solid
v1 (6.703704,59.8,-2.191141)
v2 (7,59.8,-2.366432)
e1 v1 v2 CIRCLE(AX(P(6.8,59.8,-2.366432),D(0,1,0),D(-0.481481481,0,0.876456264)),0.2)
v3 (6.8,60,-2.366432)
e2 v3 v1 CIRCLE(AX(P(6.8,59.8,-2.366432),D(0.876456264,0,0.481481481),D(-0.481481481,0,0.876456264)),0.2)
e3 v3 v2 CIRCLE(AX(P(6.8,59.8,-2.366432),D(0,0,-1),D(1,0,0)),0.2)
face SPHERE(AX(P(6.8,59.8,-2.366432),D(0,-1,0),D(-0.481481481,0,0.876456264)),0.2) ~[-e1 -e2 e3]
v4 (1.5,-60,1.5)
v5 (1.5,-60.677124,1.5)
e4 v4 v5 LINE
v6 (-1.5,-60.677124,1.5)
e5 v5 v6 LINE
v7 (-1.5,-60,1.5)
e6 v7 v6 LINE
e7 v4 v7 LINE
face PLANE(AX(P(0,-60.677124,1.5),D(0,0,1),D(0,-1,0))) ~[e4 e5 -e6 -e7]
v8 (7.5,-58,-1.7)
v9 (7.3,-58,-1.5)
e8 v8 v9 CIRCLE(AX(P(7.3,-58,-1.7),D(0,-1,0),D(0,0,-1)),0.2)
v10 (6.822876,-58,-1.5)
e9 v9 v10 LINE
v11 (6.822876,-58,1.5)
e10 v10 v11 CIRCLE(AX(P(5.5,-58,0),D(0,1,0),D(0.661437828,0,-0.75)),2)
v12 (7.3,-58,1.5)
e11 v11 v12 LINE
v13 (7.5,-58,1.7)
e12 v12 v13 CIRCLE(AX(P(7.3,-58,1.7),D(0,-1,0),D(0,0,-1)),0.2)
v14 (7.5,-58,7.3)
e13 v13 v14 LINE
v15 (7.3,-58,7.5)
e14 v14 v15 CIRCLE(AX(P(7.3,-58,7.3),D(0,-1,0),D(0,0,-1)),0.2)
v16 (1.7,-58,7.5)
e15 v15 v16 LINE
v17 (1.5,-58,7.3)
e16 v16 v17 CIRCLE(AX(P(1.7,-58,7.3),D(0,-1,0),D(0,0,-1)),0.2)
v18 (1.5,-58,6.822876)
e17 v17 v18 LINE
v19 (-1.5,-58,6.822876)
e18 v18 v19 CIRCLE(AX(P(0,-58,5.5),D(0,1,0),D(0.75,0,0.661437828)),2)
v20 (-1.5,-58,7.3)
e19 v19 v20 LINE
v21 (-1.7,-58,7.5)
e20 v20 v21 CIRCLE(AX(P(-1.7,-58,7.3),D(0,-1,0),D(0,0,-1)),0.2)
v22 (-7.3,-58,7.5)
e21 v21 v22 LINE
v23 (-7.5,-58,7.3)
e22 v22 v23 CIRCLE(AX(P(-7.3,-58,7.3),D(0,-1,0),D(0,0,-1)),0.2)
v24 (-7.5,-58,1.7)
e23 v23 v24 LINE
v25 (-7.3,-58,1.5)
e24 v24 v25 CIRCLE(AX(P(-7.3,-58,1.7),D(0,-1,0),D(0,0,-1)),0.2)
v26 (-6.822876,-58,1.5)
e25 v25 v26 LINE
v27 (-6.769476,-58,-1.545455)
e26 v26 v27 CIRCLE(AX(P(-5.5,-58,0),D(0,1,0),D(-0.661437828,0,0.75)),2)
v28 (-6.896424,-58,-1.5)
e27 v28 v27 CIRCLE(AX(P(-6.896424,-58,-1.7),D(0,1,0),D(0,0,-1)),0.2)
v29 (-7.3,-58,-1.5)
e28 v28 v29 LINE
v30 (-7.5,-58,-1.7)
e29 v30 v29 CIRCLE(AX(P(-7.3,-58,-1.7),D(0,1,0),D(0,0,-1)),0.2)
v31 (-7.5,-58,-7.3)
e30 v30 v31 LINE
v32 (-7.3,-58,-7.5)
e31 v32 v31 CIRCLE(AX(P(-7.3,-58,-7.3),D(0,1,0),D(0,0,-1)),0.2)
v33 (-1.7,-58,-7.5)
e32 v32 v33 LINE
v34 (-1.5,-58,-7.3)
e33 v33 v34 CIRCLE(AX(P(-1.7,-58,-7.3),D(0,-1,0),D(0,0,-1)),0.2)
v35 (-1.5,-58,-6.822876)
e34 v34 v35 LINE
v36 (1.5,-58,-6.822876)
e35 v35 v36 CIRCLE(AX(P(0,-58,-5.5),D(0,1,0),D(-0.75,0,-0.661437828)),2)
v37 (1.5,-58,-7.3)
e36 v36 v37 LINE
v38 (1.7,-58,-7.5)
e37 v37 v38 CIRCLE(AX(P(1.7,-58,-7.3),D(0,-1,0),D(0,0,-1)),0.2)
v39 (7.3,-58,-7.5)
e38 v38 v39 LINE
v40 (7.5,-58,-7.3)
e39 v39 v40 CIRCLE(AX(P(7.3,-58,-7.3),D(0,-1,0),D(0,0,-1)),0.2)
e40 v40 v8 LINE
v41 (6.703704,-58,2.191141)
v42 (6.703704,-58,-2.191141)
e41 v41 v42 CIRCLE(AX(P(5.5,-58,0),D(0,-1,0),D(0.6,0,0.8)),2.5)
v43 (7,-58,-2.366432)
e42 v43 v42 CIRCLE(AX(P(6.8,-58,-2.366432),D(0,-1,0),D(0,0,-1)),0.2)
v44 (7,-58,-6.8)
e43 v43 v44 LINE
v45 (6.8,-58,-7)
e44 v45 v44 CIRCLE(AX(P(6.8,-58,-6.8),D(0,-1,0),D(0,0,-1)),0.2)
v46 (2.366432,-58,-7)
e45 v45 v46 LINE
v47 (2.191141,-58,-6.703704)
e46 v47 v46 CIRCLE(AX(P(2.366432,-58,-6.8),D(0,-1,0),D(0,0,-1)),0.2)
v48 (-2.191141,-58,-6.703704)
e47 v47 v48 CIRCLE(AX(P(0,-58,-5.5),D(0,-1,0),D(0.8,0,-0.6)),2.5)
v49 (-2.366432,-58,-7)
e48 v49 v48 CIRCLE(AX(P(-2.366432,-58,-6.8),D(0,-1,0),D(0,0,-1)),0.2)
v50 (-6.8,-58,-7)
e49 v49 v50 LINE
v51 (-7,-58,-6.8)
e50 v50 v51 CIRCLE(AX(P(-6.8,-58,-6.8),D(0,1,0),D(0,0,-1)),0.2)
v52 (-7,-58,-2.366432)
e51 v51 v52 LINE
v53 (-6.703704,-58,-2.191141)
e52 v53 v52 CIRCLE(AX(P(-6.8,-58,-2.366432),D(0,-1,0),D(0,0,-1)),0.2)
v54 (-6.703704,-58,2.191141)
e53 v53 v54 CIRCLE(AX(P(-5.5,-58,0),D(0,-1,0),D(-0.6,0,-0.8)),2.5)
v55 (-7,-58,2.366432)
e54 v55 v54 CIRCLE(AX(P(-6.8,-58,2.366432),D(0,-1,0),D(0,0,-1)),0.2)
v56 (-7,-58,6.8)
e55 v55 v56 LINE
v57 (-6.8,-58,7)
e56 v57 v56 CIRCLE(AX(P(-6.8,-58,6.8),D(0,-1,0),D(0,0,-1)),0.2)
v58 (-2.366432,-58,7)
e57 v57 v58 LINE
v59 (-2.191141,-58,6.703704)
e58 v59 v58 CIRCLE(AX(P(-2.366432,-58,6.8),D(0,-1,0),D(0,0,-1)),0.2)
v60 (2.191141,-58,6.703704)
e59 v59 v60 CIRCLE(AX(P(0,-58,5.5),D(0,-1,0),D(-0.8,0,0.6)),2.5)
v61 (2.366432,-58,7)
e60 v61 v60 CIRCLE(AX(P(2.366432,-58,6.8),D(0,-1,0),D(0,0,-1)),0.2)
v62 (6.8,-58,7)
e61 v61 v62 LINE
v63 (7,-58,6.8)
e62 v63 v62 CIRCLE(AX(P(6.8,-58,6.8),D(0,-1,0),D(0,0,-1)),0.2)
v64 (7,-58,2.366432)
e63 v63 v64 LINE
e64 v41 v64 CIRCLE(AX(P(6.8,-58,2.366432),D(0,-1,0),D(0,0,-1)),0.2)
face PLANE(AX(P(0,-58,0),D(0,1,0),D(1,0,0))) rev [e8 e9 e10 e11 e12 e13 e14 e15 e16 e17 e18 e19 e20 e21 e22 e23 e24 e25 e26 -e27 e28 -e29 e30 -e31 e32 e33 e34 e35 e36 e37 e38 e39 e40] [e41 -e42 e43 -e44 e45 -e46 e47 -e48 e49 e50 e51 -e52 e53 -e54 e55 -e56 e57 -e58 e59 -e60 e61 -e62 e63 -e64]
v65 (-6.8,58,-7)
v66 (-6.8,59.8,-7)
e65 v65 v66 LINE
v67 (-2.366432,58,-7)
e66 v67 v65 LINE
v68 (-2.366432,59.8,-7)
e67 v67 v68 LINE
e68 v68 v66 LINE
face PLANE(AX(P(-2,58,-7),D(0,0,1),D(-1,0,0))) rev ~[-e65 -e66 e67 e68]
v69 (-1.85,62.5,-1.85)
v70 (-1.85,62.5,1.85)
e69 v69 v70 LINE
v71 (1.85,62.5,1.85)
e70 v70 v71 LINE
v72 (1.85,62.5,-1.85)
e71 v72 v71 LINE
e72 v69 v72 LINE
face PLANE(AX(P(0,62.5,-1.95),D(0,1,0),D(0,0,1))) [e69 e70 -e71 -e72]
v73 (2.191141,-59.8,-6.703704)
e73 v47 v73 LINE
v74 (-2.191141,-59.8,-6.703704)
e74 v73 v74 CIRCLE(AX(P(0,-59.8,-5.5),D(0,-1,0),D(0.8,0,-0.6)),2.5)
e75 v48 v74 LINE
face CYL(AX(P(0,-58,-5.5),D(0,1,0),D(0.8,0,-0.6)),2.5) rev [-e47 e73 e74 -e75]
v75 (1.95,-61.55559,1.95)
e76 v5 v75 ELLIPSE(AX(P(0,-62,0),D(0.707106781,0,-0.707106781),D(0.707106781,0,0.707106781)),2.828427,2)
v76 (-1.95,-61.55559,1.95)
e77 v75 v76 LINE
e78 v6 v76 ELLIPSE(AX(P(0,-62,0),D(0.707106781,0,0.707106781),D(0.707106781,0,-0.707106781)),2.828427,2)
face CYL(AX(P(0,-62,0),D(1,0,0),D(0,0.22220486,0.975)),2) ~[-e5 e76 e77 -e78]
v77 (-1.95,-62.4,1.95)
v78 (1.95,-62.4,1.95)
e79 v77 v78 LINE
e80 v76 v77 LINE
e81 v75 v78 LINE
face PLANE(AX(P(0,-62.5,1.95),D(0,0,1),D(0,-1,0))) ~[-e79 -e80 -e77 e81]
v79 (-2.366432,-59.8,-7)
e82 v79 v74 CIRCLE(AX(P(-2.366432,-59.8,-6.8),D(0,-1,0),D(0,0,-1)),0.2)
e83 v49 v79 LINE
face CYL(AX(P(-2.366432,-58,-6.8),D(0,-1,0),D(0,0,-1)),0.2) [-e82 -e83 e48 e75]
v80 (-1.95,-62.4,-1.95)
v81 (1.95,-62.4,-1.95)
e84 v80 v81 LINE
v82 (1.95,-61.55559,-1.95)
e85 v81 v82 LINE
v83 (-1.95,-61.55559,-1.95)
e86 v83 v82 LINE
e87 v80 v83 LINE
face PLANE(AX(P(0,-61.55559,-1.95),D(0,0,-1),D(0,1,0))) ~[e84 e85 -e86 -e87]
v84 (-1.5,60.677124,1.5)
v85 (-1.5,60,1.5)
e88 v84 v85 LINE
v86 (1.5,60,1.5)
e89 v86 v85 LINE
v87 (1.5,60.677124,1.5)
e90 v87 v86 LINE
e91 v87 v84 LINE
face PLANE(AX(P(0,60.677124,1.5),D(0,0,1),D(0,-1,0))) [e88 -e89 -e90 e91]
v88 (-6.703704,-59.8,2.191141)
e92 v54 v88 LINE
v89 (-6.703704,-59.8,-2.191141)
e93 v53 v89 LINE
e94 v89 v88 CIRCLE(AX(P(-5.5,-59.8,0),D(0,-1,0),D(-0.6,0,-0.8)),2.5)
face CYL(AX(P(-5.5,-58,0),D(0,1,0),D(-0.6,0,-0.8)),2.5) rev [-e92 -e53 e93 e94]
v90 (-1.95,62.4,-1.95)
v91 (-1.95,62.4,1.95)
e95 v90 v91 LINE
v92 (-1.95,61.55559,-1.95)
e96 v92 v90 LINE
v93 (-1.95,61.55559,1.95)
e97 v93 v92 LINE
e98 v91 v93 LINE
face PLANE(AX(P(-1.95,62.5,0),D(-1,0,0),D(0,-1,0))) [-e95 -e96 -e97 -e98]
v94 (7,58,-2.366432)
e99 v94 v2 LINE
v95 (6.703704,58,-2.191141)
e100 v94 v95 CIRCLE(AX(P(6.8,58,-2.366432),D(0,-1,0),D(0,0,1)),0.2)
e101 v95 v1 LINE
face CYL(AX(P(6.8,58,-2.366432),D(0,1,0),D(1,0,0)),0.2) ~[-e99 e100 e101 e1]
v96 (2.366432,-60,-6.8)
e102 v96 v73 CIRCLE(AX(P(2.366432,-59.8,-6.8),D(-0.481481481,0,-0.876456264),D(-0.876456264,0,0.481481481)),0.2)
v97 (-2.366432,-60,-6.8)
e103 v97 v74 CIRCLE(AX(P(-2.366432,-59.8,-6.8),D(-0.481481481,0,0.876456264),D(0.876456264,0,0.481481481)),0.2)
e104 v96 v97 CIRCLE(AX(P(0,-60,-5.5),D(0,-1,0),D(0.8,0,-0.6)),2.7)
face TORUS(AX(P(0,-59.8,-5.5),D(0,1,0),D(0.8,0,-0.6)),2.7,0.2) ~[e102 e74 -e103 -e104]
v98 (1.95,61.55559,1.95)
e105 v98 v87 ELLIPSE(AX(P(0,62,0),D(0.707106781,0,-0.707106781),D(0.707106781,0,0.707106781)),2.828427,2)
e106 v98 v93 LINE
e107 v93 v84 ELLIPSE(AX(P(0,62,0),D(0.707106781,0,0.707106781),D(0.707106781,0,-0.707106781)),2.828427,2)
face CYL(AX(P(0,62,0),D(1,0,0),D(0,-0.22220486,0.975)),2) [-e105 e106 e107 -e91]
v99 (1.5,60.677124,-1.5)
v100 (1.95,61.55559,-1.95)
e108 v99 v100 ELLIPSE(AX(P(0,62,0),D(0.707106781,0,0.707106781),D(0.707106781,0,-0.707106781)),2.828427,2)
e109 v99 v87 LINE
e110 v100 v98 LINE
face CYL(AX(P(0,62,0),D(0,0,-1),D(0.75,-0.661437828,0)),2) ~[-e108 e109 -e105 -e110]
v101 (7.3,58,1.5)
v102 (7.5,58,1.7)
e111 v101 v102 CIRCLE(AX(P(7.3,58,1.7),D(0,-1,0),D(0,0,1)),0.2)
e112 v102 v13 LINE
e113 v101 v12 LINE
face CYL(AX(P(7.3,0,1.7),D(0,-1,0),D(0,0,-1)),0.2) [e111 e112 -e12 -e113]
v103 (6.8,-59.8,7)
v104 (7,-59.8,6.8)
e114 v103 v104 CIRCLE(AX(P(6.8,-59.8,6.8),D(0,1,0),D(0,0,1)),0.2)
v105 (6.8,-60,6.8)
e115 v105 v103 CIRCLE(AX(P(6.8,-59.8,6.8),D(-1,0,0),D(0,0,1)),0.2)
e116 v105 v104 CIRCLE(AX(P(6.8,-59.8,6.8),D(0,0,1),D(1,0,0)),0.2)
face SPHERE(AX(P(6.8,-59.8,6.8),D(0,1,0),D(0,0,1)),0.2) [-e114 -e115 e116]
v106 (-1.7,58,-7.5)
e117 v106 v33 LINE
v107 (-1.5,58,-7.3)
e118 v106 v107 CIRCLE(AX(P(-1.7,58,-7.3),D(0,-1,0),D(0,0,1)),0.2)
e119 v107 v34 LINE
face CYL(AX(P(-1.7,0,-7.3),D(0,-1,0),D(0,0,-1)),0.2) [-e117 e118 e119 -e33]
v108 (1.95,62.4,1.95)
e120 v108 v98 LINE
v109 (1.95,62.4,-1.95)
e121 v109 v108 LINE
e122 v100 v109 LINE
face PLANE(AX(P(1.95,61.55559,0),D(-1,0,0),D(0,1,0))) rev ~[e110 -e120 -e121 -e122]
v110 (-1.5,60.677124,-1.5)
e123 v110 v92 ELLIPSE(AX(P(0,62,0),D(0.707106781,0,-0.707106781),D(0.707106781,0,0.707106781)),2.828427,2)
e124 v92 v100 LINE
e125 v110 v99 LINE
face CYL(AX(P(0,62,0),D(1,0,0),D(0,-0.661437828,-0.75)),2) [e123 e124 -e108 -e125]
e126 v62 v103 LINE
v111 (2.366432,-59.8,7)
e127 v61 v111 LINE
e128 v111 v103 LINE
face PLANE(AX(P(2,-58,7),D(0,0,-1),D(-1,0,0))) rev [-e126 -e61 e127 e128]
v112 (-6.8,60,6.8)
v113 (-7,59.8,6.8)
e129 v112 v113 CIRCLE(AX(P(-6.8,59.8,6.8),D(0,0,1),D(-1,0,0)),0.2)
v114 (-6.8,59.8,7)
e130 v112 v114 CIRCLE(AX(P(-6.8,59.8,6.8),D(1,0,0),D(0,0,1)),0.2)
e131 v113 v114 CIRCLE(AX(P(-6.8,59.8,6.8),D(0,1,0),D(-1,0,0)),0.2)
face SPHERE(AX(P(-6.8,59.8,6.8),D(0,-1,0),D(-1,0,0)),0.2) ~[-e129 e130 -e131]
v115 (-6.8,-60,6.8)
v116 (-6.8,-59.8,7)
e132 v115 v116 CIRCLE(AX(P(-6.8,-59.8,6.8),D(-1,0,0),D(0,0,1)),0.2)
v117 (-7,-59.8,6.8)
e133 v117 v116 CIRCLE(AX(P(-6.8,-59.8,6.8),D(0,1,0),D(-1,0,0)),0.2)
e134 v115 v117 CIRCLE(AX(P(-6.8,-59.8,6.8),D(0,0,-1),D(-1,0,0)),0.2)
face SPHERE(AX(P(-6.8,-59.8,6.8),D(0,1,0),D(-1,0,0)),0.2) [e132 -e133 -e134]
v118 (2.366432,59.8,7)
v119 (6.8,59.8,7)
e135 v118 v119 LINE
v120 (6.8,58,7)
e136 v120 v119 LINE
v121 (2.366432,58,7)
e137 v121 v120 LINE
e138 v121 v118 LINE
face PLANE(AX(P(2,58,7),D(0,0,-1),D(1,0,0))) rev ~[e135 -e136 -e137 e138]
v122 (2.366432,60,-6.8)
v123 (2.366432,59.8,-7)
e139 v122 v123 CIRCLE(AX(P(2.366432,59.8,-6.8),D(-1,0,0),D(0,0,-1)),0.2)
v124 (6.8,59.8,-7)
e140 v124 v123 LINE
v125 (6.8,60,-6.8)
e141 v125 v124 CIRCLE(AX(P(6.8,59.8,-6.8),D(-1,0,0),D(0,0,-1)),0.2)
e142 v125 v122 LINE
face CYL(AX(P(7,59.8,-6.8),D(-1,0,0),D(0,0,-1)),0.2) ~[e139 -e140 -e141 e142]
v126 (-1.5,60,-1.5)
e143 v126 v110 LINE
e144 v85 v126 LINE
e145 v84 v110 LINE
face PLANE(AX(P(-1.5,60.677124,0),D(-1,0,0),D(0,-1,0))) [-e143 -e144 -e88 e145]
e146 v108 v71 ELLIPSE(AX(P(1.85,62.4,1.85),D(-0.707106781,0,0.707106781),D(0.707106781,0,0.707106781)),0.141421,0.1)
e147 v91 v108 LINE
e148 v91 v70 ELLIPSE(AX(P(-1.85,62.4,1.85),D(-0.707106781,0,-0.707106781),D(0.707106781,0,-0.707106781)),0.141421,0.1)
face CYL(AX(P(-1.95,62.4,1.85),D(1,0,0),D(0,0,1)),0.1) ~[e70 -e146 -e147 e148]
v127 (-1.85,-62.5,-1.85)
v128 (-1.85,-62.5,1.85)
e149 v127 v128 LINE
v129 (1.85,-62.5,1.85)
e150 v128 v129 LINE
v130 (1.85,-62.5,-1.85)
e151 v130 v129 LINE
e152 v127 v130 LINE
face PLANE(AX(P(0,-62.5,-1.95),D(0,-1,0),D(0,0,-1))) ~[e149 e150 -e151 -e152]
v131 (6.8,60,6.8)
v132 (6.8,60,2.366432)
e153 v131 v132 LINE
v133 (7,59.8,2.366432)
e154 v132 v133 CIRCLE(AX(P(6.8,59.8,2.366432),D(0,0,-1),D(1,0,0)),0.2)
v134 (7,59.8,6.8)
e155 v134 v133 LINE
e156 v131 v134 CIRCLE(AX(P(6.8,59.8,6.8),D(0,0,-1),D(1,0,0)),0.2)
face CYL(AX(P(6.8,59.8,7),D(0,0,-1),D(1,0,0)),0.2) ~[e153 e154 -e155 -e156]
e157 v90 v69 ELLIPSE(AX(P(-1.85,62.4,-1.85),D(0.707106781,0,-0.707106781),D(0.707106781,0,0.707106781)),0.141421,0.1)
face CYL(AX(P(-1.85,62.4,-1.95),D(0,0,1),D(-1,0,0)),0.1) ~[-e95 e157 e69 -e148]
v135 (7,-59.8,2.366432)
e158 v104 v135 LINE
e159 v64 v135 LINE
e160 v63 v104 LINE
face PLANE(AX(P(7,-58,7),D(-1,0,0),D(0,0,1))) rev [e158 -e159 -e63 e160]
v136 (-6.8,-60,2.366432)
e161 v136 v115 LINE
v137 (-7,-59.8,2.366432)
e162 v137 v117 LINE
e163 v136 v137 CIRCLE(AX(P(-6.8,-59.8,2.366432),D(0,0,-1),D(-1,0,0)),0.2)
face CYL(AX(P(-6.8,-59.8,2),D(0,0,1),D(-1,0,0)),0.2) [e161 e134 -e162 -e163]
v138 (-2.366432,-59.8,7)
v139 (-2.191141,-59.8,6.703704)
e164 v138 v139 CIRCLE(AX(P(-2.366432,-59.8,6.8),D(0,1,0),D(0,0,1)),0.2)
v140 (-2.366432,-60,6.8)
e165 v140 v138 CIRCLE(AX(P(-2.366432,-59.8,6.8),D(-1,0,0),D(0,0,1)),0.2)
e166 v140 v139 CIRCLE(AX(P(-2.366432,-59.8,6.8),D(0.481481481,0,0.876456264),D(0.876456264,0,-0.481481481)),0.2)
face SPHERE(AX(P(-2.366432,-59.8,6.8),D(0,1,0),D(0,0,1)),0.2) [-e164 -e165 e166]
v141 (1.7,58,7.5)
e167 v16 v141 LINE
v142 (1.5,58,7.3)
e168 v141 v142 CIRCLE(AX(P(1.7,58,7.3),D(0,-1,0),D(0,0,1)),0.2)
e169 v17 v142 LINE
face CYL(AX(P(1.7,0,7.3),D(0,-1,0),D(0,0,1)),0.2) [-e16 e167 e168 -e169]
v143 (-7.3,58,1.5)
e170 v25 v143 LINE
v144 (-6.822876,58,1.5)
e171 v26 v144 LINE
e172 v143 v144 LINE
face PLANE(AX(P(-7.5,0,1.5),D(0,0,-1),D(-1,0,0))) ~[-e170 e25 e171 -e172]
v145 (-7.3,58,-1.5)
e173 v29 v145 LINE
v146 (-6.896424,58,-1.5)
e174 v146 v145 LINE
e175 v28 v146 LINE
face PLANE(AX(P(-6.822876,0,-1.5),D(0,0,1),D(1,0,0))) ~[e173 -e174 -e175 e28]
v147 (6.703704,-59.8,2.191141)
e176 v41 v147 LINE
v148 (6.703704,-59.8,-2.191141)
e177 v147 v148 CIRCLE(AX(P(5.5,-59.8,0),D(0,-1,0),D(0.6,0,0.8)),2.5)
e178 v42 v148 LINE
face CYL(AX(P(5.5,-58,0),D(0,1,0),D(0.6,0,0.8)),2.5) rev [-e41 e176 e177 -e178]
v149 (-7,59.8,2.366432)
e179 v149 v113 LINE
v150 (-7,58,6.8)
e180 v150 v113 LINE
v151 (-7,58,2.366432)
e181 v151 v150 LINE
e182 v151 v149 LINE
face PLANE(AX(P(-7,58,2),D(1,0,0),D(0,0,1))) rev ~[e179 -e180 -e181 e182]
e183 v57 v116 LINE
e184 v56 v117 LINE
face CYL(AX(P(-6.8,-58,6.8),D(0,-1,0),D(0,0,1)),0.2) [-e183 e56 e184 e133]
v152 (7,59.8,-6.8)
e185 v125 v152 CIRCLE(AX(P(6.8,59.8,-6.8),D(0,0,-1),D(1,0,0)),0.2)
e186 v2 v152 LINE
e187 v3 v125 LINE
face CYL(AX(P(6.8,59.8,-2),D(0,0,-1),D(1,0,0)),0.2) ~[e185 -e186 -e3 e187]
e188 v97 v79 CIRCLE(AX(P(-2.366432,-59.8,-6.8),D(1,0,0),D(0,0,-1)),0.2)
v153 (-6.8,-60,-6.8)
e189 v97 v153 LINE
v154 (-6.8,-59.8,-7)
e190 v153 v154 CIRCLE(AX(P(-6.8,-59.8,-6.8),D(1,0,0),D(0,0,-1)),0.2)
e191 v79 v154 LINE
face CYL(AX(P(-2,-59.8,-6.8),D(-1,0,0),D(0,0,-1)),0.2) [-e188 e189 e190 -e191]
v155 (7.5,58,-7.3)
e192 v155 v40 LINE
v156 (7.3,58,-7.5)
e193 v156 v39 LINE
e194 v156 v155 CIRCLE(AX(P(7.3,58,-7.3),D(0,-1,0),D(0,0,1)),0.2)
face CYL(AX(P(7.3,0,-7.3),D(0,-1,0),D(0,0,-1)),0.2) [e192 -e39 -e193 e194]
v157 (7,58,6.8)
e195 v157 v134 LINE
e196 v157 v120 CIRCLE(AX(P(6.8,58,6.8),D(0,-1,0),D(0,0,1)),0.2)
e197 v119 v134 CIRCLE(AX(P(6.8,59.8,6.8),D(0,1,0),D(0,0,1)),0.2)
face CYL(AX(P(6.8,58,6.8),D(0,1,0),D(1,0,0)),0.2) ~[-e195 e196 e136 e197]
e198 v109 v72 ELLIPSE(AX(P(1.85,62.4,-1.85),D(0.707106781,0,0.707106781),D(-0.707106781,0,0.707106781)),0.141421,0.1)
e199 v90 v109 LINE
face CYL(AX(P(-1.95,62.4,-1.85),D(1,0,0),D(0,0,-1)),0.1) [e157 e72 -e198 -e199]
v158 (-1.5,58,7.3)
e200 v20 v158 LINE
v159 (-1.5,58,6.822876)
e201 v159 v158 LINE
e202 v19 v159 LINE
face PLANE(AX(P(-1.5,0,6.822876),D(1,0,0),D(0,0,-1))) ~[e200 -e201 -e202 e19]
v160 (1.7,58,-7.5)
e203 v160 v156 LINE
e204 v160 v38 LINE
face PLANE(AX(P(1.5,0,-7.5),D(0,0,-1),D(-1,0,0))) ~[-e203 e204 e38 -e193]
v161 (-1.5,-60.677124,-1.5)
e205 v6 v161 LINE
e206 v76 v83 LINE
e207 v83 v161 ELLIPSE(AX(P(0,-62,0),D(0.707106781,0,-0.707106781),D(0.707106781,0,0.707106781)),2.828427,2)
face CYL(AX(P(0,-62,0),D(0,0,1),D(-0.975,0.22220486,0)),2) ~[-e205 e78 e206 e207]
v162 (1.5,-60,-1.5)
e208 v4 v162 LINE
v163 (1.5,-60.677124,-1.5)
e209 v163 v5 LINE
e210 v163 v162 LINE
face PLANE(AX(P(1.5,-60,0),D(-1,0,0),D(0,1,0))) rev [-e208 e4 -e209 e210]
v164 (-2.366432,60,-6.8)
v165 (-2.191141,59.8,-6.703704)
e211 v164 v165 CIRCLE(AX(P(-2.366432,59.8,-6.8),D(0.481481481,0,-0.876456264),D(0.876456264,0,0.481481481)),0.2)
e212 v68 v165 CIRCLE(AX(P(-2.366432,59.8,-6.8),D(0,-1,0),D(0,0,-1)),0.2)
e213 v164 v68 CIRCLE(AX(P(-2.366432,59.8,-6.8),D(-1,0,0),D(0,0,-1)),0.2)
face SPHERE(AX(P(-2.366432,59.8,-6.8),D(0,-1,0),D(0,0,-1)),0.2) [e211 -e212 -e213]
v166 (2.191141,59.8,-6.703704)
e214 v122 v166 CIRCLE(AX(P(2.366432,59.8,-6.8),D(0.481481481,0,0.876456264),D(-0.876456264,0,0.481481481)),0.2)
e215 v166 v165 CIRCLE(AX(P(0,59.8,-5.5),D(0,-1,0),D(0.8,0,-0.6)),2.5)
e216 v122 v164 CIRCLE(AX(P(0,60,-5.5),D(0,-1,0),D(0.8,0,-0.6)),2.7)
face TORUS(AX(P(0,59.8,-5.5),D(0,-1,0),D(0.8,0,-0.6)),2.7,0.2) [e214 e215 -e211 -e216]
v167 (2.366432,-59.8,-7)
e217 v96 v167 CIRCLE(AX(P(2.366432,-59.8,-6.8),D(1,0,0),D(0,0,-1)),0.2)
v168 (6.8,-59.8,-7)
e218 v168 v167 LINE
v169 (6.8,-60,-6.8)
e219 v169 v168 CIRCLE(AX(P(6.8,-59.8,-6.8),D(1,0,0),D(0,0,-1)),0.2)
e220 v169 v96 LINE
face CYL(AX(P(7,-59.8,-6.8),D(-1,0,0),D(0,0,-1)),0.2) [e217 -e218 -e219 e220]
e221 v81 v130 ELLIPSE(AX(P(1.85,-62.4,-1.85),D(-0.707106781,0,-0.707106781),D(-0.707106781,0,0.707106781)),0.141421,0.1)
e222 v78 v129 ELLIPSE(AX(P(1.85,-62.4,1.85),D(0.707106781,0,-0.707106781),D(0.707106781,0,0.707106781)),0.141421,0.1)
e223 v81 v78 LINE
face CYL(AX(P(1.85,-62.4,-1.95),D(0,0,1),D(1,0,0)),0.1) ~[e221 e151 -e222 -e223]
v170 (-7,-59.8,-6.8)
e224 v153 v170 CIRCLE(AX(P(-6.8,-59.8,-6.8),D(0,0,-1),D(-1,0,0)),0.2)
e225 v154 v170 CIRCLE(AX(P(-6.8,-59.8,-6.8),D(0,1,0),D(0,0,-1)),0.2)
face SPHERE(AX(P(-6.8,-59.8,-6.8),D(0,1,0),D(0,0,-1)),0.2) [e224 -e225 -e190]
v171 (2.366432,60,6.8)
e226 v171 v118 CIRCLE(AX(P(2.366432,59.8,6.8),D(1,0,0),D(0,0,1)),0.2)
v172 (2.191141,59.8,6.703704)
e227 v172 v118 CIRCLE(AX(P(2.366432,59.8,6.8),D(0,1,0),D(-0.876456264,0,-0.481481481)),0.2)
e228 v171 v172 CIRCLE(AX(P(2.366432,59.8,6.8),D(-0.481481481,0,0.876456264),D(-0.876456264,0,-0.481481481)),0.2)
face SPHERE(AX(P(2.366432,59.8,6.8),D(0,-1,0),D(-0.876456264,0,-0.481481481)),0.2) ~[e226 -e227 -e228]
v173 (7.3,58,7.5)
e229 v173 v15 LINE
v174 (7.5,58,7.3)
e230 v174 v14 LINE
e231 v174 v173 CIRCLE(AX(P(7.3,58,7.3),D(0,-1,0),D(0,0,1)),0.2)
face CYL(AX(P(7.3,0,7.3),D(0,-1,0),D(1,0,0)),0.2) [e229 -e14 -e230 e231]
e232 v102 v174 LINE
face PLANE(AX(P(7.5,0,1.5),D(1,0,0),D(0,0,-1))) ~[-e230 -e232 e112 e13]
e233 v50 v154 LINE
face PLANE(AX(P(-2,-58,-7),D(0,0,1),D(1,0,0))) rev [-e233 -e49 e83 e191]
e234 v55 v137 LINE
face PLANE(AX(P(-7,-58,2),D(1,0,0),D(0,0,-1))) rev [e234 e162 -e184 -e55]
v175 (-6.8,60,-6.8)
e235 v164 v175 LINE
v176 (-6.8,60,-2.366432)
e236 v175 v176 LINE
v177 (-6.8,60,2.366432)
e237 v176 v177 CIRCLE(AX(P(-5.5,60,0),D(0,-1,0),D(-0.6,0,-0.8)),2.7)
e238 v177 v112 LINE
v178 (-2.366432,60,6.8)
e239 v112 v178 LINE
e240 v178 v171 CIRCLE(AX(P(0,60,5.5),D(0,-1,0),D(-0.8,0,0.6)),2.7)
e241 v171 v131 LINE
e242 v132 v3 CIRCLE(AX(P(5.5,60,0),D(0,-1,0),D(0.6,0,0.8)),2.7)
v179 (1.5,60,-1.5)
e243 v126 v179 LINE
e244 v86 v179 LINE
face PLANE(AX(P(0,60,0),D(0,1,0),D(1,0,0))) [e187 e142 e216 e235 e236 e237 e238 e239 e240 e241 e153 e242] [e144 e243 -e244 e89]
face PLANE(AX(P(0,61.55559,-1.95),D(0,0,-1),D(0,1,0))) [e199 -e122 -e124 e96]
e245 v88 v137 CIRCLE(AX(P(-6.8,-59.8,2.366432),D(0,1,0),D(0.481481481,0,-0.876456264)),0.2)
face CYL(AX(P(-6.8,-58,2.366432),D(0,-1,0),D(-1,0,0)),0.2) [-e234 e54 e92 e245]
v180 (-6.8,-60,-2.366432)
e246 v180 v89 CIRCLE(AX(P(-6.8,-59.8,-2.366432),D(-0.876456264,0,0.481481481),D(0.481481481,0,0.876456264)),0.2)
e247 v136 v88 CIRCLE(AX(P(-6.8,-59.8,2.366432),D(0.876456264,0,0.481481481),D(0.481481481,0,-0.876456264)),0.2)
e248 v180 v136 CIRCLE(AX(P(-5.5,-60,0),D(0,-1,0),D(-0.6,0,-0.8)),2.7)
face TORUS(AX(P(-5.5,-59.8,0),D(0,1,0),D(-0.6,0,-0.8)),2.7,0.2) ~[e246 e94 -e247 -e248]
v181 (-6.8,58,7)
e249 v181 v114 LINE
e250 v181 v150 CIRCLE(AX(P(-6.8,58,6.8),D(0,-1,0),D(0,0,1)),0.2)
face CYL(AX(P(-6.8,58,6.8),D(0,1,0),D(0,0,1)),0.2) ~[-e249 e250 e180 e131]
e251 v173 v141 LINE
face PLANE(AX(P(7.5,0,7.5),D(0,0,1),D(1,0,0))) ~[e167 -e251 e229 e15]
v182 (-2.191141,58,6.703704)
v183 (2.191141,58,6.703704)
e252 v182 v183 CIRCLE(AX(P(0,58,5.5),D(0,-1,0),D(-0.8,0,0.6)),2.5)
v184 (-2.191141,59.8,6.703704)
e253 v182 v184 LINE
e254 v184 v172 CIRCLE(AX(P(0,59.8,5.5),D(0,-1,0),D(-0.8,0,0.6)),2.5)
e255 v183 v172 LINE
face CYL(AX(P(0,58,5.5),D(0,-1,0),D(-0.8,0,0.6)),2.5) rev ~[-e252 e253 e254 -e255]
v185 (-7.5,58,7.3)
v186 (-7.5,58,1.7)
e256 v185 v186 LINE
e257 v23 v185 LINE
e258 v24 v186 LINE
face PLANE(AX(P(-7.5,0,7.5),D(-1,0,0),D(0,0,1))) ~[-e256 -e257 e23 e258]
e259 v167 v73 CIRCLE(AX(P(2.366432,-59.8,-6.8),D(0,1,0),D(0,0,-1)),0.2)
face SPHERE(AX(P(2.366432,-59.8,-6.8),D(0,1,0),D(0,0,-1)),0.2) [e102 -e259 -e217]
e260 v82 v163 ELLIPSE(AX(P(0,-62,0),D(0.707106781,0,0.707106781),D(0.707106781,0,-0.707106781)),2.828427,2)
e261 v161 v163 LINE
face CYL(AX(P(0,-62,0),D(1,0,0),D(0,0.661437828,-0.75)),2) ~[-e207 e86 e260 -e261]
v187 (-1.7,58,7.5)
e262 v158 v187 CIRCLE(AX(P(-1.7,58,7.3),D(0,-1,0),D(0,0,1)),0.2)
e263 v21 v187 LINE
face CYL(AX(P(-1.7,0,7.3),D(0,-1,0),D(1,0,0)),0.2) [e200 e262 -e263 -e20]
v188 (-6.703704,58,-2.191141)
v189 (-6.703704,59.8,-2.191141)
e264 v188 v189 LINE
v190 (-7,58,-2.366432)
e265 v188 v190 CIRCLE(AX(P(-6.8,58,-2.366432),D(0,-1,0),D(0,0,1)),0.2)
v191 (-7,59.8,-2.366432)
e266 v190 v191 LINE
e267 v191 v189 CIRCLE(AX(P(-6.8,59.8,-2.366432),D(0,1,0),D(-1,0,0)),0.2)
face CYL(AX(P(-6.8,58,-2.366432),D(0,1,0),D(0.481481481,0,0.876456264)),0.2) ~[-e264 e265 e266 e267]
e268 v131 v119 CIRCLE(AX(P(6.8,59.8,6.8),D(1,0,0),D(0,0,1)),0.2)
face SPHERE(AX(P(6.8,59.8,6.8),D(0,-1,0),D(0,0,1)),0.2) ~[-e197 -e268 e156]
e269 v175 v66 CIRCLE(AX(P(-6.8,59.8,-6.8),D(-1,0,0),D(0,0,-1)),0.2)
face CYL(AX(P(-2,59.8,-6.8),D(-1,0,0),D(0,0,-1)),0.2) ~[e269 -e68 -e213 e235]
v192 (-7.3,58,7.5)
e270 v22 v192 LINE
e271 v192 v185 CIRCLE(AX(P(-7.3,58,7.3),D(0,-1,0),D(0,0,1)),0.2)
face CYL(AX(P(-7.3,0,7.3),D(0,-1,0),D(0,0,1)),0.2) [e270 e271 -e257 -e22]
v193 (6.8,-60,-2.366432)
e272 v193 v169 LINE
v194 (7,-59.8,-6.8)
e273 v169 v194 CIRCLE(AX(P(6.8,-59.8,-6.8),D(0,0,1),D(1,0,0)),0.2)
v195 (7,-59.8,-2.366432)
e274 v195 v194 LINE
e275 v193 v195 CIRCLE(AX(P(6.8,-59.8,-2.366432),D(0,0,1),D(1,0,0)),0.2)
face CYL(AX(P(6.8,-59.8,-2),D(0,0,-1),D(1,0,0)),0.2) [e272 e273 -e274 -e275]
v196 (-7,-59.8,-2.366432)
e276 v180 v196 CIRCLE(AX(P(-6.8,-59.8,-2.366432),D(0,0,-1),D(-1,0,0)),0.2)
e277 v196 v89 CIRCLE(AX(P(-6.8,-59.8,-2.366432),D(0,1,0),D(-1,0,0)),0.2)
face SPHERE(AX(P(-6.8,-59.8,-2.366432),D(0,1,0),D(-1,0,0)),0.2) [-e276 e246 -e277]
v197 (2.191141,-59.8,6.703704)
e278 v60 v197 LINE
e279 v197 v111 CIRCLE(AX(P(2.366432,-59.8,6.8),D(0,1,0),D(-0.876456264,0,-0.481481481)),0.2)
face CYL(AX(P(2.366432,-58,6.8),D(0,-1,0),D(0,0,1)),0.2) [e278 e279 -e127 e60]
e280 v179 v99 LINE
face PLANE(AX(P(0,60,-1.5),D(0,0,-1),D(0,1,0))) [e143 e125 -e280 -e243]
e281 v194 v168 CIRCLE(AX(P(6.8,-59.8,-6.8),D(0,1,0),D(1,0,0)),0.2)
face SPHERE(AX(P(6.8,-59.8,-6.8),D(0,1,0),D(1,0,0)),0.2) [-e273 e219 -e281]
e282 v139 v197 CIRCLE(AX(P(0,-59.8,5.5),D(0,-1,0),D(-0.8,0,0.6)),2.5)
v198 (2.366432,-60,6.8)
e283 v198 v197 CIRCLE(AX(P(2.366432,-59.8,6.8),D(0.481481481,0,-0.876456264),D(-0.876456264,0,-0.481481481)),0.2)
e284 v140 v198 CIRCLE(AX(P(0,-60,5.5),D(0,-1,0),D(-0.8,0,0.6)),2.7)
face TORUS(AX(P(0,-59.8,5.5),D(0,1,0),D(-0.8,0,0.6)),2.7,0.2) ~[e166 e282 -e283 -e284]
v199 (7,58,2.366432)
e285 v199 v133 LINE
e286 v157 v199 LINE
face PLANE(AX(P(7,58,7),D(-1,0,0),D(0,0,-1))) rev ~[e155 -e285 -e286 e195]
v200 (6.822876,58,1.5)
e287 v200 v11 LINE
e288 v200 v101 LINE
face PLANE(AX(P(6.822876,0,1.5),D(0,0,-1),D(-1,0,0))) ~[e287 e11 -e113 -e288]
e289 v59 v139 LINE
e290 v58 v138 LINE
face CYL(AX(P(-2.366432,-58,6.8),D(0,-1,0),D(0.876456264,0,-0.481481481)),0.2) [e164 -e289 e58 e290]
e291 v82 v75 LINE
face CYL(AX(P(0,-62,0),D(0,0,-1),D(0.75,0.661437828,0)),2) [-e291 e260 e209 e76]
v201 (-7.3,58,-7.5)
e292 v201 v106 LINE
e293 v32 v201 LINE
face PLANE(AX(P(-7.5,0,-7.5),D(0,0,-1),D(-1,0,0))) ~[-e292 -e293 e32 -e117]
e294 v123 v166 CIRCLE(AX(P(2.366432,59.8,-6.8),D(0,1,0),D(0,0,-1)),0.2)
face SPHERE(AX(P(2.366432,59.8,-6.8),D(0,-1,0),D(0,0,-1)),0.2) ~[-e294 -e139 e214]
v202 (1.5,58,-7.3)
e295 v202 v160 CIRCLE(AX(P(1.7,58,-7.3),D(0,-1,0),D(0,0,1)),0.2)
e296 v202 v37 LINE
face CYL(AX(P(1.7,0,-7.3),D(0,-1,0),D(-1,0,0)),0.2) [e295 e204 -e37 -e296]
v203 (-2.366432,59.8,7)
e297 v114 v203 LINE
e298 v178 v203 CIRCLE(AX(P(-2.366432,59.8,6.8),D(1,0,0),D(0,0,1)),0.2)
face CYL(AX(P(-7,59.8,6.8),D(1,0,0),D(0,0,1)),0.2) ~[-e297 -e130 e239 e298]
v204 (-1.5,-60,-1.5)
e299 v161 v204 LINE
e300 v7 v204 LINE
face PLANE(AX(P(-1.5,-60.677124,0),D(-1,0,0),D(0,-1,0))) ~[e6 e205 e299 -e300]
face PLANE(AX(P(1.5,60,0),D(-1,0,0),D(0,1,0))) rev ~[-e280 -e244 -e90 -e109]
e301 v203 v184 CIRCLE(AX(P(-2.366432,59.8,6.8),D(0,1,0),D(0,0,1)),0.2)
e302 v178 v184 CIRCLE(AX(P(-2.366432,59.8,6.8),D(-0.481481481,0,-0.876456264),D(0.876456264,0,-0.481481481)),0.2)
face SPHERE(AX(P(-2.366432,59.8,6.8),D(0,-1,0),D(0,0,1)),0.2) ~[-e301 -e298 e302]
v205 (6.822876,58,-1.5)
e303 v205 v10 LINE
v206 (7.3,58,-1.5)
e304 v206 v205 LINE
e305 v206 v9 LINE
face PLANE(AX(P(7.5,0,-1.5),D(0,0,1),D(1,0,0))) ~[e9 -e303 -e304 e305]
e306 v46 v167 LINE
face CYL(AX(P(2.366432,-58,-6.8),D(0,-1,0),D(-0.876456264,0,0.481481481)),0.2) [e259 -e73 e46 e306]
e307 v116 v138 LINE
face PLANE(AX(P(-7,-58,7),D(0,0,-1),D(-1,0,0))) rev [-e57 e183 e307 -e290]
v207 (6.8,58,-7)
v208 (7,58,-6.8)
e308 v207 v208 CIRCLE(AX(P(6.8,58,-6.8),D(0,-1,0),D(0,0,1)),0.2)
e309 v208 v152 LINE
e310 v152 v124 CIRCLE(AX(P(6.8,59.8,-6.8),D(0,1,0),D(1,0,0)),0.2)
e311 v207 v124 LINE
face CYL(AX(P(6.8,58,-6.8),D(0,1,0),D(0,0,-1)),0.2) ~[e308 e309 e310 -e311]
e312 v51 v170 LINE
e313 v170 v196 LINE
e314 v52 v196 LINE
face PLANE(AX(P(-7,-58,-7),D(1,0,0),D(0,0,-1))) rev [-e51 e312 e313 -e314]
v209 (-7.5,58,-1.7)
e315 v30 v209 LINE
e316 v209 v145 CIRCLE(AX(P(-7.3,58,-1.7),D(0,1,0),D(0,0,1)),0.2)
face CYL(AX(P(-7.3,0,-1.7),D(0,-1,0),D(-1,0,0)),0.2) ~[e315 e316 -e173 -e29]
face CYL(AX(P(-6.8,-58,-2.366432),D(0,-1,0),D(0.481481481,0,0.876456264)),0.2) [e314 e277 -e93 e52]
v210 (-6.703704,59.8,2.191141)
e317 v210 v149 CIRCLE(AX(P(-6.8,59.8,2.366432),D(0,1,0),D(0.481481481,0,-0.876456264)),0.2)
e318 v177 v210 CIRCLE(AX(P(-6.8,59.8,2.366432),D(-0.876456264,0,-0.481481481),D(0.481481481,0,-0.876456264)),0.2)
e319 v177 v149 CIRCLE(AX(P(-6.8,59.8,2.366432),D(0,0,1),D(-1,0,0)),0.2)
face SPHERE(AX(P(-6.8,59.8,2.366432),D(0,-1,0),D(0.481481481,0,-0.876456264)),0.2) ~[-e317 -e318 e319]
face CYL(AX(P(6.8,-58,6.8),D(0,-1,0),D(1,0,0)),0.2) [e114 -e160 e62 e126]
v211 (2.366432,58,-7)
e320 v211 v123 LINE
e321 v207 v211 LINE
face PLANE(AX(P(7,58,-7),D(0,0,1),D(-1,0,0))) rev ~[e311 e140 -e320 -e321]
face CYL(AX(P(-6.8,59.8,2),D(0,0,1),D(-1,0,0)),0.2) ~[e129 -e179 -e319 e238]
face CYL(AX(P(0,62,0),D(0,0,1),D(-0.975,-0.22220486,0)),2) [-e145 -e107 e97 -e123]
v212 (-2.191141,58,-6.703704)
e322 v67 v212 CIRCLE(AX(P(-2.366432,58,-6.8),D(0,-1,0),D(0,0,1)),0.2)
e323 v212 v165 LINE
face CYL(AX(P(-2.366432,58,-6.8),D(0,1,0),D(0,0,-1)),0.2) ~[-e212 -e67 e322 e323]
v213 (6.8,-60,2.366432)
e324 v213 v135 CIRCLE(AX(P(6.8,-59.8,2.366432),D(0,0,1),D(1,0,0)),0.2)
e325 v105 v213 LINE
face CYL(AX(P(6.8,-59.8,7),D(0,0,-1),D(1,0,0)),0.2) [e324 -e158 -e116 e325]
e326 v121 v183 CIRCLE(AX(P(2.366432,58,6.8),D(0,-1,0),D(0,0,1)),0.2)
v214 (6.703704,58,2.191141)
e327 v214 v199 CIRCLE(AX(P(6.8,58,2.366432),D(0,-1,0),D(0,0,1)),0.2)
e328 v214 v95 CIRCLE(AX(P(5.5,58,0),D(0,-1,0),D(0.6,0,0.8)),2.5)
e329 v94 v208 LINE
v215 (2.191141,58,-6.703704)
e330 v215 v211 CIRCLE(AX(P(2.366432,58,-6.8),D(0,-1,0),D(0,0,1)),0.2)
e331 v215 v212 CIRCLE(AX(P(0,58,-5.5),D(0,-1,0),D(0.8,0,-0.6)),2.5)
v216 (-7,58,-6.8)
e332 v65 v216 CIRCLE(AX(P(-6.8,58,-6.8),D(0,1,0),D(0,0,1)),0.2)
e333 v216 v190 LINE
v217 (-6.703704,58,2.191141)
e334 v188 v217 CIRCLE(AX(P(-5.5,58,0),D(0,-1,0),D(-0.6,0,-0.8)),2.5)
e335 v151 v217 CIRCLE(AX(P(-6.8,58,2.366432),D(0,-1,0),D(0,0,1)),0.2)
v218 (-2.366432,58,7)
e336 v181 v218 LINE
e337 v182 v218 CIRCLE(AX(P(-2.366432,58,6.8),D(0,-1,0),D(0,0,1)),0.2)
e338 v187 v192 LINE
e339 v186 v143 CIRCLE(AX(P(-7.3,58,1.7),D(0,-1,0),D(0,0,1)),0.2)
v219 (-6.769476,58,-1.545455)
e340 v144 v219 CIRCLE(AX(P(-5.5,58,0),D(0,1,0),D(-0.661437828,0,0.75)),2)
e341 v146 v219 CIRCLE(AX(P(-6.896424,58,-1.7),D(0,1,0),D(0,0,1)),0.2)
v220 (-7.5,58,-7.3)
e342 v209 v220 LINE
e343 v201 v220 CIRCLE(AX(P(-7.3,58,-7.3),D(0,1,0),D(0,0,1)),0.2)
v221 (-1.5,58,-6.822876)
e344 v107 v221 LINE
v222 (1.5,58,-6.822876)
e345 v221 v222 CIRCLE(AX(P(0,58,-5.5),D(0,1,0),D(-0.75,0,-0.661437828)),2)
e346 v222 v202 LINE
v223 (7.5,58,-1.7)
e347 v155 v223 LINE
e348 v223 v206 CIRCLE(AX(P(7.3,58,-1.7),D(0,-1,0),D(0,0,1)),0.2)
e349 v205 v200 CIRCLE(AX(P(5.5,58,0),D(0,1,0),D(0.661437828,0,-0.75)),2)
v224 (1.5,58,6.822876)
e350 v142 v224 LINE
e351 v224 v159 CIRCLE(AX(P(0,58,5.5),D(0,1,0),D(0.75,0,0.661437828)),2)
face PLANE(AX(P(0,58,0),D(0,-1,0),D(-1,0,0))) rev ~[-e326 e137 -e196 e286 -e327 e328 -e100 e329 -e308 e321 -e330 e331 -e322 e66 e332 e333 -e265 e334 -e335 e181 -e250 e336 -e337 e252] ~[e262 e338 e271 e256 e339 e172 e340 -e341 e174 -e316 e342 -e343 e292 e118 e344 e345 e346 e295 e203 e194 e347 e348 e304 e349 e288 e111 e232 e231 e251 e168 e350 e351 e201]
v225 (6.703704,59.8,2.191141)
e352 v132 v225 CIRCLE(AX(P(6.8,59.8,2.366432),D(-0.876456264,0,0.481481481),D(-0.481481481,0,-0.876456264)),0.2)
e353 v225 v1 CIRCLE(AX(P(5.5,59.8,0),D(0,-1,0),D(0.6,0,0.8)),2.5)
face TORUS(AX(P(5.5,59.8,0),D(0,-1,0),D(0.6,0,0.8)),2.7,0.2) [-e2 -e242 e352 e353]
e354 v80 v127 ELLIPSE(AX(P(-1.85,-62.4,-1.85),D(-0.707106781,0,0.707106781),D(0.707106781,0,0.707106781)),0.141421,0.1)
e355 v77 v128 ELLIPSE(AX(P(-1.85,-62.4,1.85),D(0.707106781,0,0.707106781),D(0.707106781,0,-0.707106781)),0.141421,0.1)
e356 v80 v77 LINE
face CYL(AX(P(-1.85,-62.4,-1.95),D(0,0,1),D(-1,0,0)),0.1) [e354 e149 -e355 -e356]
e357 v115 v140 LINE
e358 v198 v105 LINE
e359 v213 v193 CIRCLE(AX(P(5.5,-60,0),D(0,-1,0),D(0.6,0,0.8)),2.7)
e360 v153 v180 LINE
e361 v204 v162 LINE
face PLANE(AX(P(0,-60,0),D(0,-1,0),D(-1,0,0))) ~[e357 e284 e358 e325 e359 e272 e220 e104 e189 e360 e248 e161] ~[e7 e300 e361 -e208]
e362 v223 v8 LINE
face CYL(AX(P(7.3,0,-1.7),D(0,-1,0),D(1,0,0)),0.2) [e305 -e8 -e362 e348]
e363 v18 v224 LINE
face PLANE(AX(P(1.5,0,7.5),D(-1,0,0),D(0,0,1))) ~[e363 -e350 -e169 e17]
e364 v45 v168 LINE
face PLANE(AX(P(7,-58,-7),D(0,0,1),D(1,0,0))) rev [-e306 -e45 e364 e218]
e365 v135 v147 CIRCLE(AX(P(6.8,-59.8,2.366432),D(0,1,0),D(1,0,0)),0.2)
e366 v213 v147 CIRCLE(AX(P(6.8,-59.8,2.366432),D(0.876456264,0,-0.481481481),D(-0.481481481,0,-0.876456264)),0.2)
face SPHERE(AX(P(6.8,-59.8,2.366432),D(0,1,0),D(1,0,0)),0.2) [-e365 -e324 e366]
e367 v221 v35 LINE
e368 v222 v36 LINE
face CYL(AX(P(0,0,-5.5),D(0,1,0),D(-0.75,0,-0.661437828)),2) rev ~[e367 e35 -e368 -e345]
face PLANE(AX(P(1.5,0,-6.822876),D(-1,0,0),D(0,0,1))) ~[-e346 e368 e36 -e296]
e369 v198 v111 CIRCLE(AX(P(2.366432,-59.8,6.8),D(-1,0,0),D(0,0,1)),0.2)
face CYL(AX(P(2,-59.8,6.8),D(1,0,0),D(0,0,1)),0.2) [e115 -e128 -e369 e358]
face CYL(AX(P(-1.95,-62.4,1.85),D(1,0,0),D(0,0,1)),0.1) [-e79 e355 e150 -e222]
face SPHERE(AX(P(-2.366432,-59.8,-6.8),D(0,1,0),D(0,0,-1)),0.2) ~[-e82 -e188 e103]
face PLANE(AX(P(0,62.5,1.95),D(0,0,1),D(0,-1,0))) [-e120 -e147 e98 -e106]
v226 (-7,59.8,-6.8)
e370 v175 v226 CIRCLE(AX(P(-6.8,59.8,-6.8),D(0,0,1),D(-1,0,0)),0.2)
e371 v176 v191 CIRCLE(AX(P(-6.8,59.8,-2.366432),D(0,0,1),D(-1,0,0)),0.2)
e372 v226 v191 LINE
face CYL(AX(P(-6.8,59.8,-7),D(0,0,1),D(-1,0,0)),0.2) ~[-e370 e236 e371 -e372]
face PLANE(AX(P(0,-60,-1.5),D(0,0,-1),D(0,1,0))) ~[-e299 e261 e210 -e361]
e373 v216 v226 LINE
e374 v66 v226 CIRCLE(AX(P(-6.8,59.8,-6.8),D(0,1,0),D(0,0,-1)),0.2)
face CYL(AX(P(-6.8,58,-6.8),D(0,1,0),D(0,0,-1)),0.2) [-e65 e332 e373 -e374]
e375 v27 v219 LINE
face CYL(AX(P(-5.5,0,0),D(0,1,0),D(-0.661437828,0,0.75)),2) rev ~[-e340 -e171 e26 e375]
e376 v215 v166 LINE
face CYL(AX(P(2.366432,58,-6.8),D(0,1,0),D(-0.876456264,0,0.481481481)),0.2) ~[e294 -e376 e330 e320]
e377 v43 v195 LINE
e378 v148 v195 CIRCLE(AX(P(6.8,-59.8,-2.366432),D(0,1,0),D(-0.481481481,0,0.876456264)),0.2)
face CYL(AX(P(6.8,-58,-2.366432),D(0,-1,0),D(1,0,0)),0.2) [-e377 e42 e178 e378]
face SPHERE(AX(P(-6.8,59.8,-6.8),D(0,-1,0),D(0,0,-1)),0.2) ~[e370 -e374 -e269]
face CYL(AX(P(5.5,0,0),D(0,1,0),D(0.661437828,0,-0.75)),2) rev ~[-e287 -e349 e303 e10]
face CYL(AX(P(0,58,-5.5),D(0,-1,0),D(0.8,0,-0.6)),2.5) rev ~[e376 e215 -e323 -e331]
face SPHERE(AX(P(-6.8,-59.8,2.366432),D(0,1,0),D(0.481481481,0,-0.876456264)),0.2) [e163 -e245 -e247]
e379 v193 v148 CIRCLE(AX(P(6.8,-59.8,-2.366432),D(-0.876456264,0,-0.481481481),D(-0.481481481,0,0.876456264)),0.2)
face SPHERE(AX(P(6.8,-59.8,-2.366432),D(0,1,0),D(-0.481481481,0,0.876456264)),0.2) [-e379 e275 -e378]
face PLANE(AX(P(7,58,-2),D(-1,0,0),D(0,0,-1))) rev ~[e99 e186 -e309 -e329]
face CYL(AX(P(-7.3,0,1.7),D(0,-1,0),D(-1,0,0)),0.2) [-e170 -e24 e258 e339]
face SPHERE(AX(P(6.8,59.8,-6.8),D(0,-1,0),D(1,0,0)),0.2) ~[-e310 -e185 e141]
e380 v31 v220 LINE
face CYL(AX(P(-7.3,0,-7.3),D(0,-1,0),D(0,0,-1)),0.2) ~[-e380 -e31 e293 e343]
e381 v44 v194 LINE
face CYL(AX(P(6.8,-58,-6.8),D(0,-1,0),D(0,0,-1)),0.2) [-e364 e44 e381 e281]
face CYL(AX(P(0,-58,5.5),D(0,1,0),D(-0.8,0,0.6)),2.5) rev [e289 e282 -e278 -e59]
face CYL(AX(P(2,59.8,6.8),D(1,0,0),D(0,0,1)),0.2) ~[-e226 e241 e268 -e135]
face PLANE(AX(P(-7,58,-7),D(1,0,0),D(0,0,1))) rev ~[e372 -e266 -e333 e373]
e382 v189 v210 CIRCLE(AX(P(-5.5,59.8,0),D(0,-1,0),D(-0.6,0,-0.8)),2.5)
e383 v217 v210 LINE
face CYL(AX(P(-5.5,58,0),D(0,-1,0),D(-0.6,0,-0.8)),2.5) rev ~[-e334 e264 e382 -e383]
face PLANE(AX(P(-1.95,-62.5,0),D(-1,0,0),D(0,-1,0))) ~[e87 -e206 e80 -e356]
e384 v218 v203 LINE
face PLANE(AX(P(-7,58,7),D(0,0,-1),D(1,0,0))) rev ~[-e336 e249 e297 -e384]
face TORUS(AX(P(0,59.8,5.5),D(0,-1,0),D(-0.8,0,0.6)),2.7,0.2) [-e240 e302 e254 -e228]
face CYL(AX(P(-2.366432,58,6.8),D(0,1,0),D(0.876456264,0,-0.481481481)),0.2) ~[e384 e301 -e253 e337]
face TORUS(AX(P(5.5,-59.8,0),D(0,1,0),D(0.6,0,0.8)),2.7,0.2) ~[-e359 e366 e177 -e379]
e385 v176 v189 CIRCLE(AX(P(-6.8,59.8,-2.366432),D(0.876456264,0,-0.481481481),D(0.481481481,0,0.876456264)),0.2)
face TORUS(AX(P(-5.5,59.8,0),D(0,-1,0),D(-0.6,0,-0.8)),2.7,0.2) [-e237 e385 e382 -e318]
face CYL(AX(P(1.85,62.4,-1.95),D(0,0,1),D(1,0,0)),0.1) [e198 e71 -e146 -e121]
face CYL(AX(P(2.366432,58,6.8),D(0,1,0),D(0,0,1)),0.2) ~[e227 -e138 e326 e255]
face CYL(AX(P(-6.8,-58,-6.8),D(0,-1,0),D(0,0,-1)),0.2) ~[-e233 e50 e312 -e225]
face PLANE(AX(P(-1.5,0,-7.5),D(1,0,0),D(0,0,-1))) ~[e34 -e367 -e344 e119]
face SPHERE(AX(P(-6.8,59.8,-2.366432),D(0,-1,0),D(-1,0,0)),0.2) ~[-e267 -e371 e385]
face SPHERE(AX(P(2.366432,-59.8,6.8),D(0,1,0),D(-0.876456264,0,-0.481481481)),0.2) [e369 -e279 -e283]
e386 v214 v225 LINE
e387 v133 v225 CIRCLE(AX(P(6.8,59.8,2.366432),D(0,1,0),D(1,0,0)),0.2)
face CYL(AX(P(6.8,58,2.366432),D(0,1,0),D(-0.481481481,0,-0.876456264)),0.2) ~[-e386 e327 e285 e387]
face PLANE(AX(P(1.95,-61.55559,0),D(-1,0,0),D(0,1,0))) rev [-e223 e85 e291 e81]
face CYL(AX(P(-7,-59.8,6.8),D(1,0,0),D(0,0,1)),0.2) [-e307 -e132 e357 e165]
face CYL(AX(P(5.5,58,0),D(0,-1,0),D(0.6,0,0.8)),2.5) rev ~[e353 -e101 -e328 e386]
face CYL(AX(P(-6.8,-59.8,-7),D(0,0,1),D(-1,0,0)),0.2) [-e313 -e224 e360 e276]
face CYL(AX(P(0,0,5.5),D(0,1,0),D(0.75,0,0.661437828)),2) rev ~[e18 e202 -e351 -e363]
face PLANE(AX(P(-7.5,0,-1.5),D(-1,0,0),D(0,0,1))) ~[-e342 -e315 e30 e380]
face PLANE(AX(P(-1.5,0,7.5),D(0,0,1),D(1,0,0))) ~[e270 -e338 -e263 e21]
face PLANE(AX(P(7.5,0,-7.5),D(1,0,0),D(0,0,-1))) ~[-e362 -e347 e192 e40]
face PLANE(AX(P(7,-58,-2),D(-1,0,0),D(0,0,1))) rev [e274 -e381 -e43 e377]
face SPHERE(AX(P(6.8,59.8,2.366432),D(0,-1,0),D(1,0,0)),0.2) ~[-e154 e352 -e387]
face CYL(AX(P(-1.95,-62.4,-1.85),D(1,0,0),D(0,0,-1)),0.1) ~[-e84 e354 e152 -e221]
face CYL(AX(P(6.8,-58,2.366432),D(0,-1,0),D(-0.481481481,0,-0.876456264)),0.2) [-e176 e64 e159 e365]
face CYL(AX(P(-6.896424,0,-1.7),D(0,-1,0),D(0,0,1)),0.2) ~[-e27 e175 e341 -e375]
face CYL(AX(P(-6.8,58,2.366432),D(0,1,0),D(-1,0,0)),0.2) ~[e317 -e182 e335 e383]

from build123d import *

# Parameters (mm, degrees)
EXTRUDE_1_DEPTH        = 58
EXTRUDE_2_DEPTH        = 2
EXTRUDE_3_DEPTH        = 2
FILLET_3_R             = 0.2
CUT_EXTRUDE_1_DEPTH    = 3
FILLET_4_R             = 0.2
FILLET_5_R             = 0.1
FILLET_3_OF_MIRROR_1_R = 0.2
FILLET_4_OF_MIRROR_1_R = 0.2
FILLET_5_OF_MIRROR_1_R = 0.1


with BuildPart() as part:
    # 草图1 → 凸台-拉伸1 (new body)
    with BuildSketch(Plane(origin=(0, 0, 0), x_dir=(1, 0, 0), z_dir=(0, 1, 0))):
        with BuildLine():
            Line((-7.5, 7.5), (-1.5, 7.5))
            Line((-1.5, 7.5), (-1.5, 6.822875656))
            ThreePointArc((-1.5, 6.822875656), (0, 3.5), (1.5, 6.822875656))
            Line((1.5, 6.822875656), (1.5, 7.5))
            Line((1.5, 7.5), (7.5, 7.5))
            Line((7.5, 7.5), (7.5, 1.5))
            Line((7.5, 1.5), (6.822875656, 1.5))
            ThreePointArc((6.822875656, 1.5), (3.5, 0), (6.822875656, -1.5))
            Line((6.822875656, -1.5), (7.5, -1.5))
            Line((7.5, -1.5), (7.5, -7.5))
            Line((7.5, -7.5), (1.5, -7.5))
            Line((1.5, -7.5), (1.5, -6.822875656))
            ThreePointArc((1.5, -6.822875656), (0, -3.5), (-1.5, -6.822875656))
            Line((-1.5, -6.822875656), (-1.5, -7.5))
            Line((-1.5, -7.5), (-7.5, -7.5))
            Line((-7.5, -7.5), (-7.5, -1.5))
            Line((-7.5, -1.5), (-6.822875656, -1.5))
            ThreePointArc((-6.822875656, -1.5), (-3.5, 0), (-6.822875656, 1.5))
            Line((-6.822875656, 1.5), (-7.5, 1.5))
            Line((-7.5, 1.5), (-7.5, 7.5))
        make_face()
    extrude_1 = extrude(amount=EXTRUDE_1_DEPTH)

    # 草图2 → 凸台-拉伸2 (add)
    with BuildSketch(Plane(origin=(0, 58, 0), x_dir=(1, 0, 0), z_dir=(0, 1, 0))):
        with BuildLine():
            Line((-7, 7), (-7, 2))
            ThreePointArc((-7, 2), (-3, 0), (-7, -2))
            Line((-7, -2), (-7, -7))
            Line((-7, -7), (-2, -7))
            ThreePointArc((-2, -7), (0, -3), (2, -7))
            Line((2, -7), (7, -7))
            Line((7, -7), (7, -2))
            ThreePointArc((7, -2), (3, 0), (7, 2))
            Line((7, 2), (7, 7))
            Line((7, 7), (2, 7))
            ThreePointArc((2, 7), (0, 3), (-2, 7))
            Line((-2, 7), (-7, 7))
        make_face()
    extrude_2 = extrude(amount=EXTRUDE_2_DEPTH)

    # 草图3 → 凸台-拉伸3 (add, symmetric)
    with BuildSketch(Plane(origin=(0, 0, 0), x_dir=(0, 0, -1), z_dir=(1, 0, 0))):
        with BuildLine():
            Line((-1.5, 60), (1.5, 60))
            Line((1.5, 60), (1.5, 60.677124344))
            ThreePointArc((1.5, 60.677124344), (1.780042303, 61.088161527), (1.95, 61.555590279))
            Line((1.95, 61.555590279), (1.95, 62.5))
            Line((1.95, 62.5), (-1.95, 62.5))
            Line((-1.95, 62.5), (-1.95, 61.555590279))
            ThreePointArc((-1.95, 61.555590279), (-1.780042303, 61.088161527), (-1.5, 60.677124344))
            Line((-1.5, 60.677124344), (-1.5, 60))
        make_face()
    extrude_3 = extrude(amount=EXTRUDE_3_DEPTH, both=True)

    # 圆角3
    fillet_3_edges = [part.edges().sort_by_distance(p)[0] for p in [
        (-7.5, 29, -7.5),
        (-1.5, 29, -7.5),
        (1.5, 29, -7.5),
        (7.5, 29, -7.5),
        (7.5, 29, -1.5),
        (7.5, 29, 1.5),
        (7.5, 29, 7.5),
        (1.5, 29, 7.5),
        (-1.5, 29, 7.5),
        (-7.5, 29, 7.5),
        (-7.5, 29, 1.5),
        (-6.822875656, 29, -1.5),
        (-7.5, 29, -1.5),
    ]]
    fillet(fillet_3_edges, radius=FILLET_3_R)

    # 草图4 → 切除-拉伸1 (cut, symmetric)
    with BuildSketch(Plane.XY):
        with BuildLine():
            Line((1.95, 62.5), (2, 62.5))
            Line((2, 62.5), (2, 60))
            Line((2, 60), (1.5, 60))
            Line((1.5, 60), (1.5, 60.677124344))
            ThreePointArc((1.5, 60.677124344), (1.780042303, 61.088161527), (1.95, 61.555590279))
            Line((1.95, 61.555590279), (1.95, 62.5))
        make_face()
        with BuildLine():
            Line((-1.95, 62.5), (-1.95, 61.555590279))
            ThreePointArc((-1.95, 61.555590279), (-1.780042303, 61.088161527), (-1.5, 60.677124344))
            Line((-1.5, 60.677124344), (-1.5, 60))
            Line((-1.5, 60), (-2, 60))
            Line((-2, 60), (-2, 62.5))
            Line((-2, 62.5), (-1.95, 62.5))
        make_face()
    cut_extrude_1 = extrude(amount=CUT_EXTRUDE_1_DEPTH, both=True, mode=Mode.SUBTRACT)

    # 圆角4
    fillet_4_edges = [part.edges().sort_by_distance(p)[0] for p in [
        (-2, 59, -7),
        (-7, 59, -7),
        (-7, 59, -2),
        (-7, 59, 2),
        (-7, 59, 7),
        (-2, 59, 7),
        (2, 59, 7),
        (7, 59, 7),
        (7, 59, 2),
        (7, 59, -2),
        (7, 59, -7),
        (2, 59, -7),
        (-4.5, 60, -7),
        (-7, 60, -4.5),
        (-3, 60, 0),
        (-7, 60, 4.5),
        (-4.5, 60, 7),
        (0, 60, 3),
        (4.5, 60, 7),
        (7, 60, 4.5),
        (3, 60, 0),
        (7, 60, -4.5),
        (4.5, 60, -7),
        (0, 60, -3),
    ]]
    fillet(fillet_4_edges, radius=FILLET_4_R)

    # 圆角5
    fillet_5_edges = [part.edges().sort_by_distance(p)[0] for p in [
        (1.95, 62.5, 0),
        (0, 62.5, -1.95),
        (0, 62.5, 1.95),
        (-1.95, 62.5, 0),
    ]]
    fillet(fillet_5_edges, radius=FILLET_5_R)


with BuildPart() as mirror_1_1:
    # 镜向1: 凸台-拉伸1, 凸台-拉伸2, 凸台-拉伸3 across Top Plane
    add(extrude_1.mirror(Plane(origin=(0, 0, 0), x_dir=(1, 0, 0), z_dir=(0, 1, 0))))
    add(extrude_2.mirror(Plane(origin=(0, 0, 0), x_dir=(1, 0, 0), z_dir=(0, 1, 0))))
    add(extrude_3.mirror(Plane(origin=(0, 0, 0), x_dir=(1, 0, 0), z_dir=(0, 1, 0))))

    # Mirror 1 2: 切除-拉伸1 across Top Plane
    add(cut_extrude_1.mirror(Plane(origin=(0, 0, 0), x_dir=(1, 0, 0), z_dir=(0, 1, 0))), mode=Mode.SUBTRACT)

    # 圆角3 of 镜向1
    fillet_3_of_mirror_1_edges = [mirror_1_1.edges().sort_by_distance(p)[0] for p in [
        (-7.5, -29, -7.5),
        (-1.5, -29, -7.5),
        (1.5, -29, -7.5),
        (7.5, -29, -7.5),
        (7.5, -29, -1.5),
        (7.5, -29, 1.5),
        (7.5, -29, 7.5),
        (1.5, -29, 7.5),
        (-1.5, -29, 7.5),
        (-7.5, -29, 7.5),
        (-7.5, -29, 1.5),
        (-6.822875656, -29, -1.5),
        (-7.5, -29, -1.5),
    ]]
    fillet(fillet_3_of_mirror_1_edges, radius=FILLET_3_OF_MIRROR_1_R)

    # 圆角4 of 镜向1
    fillet_4_of_mirror_1_edges = [mirror_1_1.edges().sort_by_distance(p)[0] for p in [
        (-2, -59, -7),
        (-7, -59, -7),
        (-7, -59, -2),
        (-7, -59, 2),
        (-7, -59, 7),
        (-2, -59, 7),
        (2, -59, 7),
        (7, -59, 7),
        (7, -59, 2),
        (7, -59, -2),
        (7, -59, -7),
        (2, -59, -7),
        (-4.5, -60, -7),
        (-7, -60, -4.5),
        (-3, -60, 0),
        (-7, -60, 4.5),
        (-4.5, -60, 7),
        (0, -60, 3),
        (4.5, -60, 7),
        (7, -60, 4.5),
        (3, -60, 0),
        (7, -60, -4.5),
        (4.5, -60, -7),
        (0, -60, -3),
    ]]
    fillet(fillet_4_of_mirror_1_edges, radius=FILLET_4_OF_MIRROR_1_R)

    # 圆角5 of 镜向1
    fillet_5_of_mirror_1_edges = [mirror_1_1.edges().sort_by_distance(p)[0] for p in [
        (1.95, -62.5, 0),
        (0, -62.5, -1.95),
        (0, -62.5, 1.95),
        (-1.95, -62.5, 0),
    ]]
    fillet(fillet_5_of_mirror_1_edges, radius=FILLET_5_OF_MIRROR_1_R)


with BuildPart() as part_1:
    add(part.part)

    # 镜向1 united with what the copies tou: union 镜向1_1
    add(mirror_1_1.part)


solid = part_1.part
